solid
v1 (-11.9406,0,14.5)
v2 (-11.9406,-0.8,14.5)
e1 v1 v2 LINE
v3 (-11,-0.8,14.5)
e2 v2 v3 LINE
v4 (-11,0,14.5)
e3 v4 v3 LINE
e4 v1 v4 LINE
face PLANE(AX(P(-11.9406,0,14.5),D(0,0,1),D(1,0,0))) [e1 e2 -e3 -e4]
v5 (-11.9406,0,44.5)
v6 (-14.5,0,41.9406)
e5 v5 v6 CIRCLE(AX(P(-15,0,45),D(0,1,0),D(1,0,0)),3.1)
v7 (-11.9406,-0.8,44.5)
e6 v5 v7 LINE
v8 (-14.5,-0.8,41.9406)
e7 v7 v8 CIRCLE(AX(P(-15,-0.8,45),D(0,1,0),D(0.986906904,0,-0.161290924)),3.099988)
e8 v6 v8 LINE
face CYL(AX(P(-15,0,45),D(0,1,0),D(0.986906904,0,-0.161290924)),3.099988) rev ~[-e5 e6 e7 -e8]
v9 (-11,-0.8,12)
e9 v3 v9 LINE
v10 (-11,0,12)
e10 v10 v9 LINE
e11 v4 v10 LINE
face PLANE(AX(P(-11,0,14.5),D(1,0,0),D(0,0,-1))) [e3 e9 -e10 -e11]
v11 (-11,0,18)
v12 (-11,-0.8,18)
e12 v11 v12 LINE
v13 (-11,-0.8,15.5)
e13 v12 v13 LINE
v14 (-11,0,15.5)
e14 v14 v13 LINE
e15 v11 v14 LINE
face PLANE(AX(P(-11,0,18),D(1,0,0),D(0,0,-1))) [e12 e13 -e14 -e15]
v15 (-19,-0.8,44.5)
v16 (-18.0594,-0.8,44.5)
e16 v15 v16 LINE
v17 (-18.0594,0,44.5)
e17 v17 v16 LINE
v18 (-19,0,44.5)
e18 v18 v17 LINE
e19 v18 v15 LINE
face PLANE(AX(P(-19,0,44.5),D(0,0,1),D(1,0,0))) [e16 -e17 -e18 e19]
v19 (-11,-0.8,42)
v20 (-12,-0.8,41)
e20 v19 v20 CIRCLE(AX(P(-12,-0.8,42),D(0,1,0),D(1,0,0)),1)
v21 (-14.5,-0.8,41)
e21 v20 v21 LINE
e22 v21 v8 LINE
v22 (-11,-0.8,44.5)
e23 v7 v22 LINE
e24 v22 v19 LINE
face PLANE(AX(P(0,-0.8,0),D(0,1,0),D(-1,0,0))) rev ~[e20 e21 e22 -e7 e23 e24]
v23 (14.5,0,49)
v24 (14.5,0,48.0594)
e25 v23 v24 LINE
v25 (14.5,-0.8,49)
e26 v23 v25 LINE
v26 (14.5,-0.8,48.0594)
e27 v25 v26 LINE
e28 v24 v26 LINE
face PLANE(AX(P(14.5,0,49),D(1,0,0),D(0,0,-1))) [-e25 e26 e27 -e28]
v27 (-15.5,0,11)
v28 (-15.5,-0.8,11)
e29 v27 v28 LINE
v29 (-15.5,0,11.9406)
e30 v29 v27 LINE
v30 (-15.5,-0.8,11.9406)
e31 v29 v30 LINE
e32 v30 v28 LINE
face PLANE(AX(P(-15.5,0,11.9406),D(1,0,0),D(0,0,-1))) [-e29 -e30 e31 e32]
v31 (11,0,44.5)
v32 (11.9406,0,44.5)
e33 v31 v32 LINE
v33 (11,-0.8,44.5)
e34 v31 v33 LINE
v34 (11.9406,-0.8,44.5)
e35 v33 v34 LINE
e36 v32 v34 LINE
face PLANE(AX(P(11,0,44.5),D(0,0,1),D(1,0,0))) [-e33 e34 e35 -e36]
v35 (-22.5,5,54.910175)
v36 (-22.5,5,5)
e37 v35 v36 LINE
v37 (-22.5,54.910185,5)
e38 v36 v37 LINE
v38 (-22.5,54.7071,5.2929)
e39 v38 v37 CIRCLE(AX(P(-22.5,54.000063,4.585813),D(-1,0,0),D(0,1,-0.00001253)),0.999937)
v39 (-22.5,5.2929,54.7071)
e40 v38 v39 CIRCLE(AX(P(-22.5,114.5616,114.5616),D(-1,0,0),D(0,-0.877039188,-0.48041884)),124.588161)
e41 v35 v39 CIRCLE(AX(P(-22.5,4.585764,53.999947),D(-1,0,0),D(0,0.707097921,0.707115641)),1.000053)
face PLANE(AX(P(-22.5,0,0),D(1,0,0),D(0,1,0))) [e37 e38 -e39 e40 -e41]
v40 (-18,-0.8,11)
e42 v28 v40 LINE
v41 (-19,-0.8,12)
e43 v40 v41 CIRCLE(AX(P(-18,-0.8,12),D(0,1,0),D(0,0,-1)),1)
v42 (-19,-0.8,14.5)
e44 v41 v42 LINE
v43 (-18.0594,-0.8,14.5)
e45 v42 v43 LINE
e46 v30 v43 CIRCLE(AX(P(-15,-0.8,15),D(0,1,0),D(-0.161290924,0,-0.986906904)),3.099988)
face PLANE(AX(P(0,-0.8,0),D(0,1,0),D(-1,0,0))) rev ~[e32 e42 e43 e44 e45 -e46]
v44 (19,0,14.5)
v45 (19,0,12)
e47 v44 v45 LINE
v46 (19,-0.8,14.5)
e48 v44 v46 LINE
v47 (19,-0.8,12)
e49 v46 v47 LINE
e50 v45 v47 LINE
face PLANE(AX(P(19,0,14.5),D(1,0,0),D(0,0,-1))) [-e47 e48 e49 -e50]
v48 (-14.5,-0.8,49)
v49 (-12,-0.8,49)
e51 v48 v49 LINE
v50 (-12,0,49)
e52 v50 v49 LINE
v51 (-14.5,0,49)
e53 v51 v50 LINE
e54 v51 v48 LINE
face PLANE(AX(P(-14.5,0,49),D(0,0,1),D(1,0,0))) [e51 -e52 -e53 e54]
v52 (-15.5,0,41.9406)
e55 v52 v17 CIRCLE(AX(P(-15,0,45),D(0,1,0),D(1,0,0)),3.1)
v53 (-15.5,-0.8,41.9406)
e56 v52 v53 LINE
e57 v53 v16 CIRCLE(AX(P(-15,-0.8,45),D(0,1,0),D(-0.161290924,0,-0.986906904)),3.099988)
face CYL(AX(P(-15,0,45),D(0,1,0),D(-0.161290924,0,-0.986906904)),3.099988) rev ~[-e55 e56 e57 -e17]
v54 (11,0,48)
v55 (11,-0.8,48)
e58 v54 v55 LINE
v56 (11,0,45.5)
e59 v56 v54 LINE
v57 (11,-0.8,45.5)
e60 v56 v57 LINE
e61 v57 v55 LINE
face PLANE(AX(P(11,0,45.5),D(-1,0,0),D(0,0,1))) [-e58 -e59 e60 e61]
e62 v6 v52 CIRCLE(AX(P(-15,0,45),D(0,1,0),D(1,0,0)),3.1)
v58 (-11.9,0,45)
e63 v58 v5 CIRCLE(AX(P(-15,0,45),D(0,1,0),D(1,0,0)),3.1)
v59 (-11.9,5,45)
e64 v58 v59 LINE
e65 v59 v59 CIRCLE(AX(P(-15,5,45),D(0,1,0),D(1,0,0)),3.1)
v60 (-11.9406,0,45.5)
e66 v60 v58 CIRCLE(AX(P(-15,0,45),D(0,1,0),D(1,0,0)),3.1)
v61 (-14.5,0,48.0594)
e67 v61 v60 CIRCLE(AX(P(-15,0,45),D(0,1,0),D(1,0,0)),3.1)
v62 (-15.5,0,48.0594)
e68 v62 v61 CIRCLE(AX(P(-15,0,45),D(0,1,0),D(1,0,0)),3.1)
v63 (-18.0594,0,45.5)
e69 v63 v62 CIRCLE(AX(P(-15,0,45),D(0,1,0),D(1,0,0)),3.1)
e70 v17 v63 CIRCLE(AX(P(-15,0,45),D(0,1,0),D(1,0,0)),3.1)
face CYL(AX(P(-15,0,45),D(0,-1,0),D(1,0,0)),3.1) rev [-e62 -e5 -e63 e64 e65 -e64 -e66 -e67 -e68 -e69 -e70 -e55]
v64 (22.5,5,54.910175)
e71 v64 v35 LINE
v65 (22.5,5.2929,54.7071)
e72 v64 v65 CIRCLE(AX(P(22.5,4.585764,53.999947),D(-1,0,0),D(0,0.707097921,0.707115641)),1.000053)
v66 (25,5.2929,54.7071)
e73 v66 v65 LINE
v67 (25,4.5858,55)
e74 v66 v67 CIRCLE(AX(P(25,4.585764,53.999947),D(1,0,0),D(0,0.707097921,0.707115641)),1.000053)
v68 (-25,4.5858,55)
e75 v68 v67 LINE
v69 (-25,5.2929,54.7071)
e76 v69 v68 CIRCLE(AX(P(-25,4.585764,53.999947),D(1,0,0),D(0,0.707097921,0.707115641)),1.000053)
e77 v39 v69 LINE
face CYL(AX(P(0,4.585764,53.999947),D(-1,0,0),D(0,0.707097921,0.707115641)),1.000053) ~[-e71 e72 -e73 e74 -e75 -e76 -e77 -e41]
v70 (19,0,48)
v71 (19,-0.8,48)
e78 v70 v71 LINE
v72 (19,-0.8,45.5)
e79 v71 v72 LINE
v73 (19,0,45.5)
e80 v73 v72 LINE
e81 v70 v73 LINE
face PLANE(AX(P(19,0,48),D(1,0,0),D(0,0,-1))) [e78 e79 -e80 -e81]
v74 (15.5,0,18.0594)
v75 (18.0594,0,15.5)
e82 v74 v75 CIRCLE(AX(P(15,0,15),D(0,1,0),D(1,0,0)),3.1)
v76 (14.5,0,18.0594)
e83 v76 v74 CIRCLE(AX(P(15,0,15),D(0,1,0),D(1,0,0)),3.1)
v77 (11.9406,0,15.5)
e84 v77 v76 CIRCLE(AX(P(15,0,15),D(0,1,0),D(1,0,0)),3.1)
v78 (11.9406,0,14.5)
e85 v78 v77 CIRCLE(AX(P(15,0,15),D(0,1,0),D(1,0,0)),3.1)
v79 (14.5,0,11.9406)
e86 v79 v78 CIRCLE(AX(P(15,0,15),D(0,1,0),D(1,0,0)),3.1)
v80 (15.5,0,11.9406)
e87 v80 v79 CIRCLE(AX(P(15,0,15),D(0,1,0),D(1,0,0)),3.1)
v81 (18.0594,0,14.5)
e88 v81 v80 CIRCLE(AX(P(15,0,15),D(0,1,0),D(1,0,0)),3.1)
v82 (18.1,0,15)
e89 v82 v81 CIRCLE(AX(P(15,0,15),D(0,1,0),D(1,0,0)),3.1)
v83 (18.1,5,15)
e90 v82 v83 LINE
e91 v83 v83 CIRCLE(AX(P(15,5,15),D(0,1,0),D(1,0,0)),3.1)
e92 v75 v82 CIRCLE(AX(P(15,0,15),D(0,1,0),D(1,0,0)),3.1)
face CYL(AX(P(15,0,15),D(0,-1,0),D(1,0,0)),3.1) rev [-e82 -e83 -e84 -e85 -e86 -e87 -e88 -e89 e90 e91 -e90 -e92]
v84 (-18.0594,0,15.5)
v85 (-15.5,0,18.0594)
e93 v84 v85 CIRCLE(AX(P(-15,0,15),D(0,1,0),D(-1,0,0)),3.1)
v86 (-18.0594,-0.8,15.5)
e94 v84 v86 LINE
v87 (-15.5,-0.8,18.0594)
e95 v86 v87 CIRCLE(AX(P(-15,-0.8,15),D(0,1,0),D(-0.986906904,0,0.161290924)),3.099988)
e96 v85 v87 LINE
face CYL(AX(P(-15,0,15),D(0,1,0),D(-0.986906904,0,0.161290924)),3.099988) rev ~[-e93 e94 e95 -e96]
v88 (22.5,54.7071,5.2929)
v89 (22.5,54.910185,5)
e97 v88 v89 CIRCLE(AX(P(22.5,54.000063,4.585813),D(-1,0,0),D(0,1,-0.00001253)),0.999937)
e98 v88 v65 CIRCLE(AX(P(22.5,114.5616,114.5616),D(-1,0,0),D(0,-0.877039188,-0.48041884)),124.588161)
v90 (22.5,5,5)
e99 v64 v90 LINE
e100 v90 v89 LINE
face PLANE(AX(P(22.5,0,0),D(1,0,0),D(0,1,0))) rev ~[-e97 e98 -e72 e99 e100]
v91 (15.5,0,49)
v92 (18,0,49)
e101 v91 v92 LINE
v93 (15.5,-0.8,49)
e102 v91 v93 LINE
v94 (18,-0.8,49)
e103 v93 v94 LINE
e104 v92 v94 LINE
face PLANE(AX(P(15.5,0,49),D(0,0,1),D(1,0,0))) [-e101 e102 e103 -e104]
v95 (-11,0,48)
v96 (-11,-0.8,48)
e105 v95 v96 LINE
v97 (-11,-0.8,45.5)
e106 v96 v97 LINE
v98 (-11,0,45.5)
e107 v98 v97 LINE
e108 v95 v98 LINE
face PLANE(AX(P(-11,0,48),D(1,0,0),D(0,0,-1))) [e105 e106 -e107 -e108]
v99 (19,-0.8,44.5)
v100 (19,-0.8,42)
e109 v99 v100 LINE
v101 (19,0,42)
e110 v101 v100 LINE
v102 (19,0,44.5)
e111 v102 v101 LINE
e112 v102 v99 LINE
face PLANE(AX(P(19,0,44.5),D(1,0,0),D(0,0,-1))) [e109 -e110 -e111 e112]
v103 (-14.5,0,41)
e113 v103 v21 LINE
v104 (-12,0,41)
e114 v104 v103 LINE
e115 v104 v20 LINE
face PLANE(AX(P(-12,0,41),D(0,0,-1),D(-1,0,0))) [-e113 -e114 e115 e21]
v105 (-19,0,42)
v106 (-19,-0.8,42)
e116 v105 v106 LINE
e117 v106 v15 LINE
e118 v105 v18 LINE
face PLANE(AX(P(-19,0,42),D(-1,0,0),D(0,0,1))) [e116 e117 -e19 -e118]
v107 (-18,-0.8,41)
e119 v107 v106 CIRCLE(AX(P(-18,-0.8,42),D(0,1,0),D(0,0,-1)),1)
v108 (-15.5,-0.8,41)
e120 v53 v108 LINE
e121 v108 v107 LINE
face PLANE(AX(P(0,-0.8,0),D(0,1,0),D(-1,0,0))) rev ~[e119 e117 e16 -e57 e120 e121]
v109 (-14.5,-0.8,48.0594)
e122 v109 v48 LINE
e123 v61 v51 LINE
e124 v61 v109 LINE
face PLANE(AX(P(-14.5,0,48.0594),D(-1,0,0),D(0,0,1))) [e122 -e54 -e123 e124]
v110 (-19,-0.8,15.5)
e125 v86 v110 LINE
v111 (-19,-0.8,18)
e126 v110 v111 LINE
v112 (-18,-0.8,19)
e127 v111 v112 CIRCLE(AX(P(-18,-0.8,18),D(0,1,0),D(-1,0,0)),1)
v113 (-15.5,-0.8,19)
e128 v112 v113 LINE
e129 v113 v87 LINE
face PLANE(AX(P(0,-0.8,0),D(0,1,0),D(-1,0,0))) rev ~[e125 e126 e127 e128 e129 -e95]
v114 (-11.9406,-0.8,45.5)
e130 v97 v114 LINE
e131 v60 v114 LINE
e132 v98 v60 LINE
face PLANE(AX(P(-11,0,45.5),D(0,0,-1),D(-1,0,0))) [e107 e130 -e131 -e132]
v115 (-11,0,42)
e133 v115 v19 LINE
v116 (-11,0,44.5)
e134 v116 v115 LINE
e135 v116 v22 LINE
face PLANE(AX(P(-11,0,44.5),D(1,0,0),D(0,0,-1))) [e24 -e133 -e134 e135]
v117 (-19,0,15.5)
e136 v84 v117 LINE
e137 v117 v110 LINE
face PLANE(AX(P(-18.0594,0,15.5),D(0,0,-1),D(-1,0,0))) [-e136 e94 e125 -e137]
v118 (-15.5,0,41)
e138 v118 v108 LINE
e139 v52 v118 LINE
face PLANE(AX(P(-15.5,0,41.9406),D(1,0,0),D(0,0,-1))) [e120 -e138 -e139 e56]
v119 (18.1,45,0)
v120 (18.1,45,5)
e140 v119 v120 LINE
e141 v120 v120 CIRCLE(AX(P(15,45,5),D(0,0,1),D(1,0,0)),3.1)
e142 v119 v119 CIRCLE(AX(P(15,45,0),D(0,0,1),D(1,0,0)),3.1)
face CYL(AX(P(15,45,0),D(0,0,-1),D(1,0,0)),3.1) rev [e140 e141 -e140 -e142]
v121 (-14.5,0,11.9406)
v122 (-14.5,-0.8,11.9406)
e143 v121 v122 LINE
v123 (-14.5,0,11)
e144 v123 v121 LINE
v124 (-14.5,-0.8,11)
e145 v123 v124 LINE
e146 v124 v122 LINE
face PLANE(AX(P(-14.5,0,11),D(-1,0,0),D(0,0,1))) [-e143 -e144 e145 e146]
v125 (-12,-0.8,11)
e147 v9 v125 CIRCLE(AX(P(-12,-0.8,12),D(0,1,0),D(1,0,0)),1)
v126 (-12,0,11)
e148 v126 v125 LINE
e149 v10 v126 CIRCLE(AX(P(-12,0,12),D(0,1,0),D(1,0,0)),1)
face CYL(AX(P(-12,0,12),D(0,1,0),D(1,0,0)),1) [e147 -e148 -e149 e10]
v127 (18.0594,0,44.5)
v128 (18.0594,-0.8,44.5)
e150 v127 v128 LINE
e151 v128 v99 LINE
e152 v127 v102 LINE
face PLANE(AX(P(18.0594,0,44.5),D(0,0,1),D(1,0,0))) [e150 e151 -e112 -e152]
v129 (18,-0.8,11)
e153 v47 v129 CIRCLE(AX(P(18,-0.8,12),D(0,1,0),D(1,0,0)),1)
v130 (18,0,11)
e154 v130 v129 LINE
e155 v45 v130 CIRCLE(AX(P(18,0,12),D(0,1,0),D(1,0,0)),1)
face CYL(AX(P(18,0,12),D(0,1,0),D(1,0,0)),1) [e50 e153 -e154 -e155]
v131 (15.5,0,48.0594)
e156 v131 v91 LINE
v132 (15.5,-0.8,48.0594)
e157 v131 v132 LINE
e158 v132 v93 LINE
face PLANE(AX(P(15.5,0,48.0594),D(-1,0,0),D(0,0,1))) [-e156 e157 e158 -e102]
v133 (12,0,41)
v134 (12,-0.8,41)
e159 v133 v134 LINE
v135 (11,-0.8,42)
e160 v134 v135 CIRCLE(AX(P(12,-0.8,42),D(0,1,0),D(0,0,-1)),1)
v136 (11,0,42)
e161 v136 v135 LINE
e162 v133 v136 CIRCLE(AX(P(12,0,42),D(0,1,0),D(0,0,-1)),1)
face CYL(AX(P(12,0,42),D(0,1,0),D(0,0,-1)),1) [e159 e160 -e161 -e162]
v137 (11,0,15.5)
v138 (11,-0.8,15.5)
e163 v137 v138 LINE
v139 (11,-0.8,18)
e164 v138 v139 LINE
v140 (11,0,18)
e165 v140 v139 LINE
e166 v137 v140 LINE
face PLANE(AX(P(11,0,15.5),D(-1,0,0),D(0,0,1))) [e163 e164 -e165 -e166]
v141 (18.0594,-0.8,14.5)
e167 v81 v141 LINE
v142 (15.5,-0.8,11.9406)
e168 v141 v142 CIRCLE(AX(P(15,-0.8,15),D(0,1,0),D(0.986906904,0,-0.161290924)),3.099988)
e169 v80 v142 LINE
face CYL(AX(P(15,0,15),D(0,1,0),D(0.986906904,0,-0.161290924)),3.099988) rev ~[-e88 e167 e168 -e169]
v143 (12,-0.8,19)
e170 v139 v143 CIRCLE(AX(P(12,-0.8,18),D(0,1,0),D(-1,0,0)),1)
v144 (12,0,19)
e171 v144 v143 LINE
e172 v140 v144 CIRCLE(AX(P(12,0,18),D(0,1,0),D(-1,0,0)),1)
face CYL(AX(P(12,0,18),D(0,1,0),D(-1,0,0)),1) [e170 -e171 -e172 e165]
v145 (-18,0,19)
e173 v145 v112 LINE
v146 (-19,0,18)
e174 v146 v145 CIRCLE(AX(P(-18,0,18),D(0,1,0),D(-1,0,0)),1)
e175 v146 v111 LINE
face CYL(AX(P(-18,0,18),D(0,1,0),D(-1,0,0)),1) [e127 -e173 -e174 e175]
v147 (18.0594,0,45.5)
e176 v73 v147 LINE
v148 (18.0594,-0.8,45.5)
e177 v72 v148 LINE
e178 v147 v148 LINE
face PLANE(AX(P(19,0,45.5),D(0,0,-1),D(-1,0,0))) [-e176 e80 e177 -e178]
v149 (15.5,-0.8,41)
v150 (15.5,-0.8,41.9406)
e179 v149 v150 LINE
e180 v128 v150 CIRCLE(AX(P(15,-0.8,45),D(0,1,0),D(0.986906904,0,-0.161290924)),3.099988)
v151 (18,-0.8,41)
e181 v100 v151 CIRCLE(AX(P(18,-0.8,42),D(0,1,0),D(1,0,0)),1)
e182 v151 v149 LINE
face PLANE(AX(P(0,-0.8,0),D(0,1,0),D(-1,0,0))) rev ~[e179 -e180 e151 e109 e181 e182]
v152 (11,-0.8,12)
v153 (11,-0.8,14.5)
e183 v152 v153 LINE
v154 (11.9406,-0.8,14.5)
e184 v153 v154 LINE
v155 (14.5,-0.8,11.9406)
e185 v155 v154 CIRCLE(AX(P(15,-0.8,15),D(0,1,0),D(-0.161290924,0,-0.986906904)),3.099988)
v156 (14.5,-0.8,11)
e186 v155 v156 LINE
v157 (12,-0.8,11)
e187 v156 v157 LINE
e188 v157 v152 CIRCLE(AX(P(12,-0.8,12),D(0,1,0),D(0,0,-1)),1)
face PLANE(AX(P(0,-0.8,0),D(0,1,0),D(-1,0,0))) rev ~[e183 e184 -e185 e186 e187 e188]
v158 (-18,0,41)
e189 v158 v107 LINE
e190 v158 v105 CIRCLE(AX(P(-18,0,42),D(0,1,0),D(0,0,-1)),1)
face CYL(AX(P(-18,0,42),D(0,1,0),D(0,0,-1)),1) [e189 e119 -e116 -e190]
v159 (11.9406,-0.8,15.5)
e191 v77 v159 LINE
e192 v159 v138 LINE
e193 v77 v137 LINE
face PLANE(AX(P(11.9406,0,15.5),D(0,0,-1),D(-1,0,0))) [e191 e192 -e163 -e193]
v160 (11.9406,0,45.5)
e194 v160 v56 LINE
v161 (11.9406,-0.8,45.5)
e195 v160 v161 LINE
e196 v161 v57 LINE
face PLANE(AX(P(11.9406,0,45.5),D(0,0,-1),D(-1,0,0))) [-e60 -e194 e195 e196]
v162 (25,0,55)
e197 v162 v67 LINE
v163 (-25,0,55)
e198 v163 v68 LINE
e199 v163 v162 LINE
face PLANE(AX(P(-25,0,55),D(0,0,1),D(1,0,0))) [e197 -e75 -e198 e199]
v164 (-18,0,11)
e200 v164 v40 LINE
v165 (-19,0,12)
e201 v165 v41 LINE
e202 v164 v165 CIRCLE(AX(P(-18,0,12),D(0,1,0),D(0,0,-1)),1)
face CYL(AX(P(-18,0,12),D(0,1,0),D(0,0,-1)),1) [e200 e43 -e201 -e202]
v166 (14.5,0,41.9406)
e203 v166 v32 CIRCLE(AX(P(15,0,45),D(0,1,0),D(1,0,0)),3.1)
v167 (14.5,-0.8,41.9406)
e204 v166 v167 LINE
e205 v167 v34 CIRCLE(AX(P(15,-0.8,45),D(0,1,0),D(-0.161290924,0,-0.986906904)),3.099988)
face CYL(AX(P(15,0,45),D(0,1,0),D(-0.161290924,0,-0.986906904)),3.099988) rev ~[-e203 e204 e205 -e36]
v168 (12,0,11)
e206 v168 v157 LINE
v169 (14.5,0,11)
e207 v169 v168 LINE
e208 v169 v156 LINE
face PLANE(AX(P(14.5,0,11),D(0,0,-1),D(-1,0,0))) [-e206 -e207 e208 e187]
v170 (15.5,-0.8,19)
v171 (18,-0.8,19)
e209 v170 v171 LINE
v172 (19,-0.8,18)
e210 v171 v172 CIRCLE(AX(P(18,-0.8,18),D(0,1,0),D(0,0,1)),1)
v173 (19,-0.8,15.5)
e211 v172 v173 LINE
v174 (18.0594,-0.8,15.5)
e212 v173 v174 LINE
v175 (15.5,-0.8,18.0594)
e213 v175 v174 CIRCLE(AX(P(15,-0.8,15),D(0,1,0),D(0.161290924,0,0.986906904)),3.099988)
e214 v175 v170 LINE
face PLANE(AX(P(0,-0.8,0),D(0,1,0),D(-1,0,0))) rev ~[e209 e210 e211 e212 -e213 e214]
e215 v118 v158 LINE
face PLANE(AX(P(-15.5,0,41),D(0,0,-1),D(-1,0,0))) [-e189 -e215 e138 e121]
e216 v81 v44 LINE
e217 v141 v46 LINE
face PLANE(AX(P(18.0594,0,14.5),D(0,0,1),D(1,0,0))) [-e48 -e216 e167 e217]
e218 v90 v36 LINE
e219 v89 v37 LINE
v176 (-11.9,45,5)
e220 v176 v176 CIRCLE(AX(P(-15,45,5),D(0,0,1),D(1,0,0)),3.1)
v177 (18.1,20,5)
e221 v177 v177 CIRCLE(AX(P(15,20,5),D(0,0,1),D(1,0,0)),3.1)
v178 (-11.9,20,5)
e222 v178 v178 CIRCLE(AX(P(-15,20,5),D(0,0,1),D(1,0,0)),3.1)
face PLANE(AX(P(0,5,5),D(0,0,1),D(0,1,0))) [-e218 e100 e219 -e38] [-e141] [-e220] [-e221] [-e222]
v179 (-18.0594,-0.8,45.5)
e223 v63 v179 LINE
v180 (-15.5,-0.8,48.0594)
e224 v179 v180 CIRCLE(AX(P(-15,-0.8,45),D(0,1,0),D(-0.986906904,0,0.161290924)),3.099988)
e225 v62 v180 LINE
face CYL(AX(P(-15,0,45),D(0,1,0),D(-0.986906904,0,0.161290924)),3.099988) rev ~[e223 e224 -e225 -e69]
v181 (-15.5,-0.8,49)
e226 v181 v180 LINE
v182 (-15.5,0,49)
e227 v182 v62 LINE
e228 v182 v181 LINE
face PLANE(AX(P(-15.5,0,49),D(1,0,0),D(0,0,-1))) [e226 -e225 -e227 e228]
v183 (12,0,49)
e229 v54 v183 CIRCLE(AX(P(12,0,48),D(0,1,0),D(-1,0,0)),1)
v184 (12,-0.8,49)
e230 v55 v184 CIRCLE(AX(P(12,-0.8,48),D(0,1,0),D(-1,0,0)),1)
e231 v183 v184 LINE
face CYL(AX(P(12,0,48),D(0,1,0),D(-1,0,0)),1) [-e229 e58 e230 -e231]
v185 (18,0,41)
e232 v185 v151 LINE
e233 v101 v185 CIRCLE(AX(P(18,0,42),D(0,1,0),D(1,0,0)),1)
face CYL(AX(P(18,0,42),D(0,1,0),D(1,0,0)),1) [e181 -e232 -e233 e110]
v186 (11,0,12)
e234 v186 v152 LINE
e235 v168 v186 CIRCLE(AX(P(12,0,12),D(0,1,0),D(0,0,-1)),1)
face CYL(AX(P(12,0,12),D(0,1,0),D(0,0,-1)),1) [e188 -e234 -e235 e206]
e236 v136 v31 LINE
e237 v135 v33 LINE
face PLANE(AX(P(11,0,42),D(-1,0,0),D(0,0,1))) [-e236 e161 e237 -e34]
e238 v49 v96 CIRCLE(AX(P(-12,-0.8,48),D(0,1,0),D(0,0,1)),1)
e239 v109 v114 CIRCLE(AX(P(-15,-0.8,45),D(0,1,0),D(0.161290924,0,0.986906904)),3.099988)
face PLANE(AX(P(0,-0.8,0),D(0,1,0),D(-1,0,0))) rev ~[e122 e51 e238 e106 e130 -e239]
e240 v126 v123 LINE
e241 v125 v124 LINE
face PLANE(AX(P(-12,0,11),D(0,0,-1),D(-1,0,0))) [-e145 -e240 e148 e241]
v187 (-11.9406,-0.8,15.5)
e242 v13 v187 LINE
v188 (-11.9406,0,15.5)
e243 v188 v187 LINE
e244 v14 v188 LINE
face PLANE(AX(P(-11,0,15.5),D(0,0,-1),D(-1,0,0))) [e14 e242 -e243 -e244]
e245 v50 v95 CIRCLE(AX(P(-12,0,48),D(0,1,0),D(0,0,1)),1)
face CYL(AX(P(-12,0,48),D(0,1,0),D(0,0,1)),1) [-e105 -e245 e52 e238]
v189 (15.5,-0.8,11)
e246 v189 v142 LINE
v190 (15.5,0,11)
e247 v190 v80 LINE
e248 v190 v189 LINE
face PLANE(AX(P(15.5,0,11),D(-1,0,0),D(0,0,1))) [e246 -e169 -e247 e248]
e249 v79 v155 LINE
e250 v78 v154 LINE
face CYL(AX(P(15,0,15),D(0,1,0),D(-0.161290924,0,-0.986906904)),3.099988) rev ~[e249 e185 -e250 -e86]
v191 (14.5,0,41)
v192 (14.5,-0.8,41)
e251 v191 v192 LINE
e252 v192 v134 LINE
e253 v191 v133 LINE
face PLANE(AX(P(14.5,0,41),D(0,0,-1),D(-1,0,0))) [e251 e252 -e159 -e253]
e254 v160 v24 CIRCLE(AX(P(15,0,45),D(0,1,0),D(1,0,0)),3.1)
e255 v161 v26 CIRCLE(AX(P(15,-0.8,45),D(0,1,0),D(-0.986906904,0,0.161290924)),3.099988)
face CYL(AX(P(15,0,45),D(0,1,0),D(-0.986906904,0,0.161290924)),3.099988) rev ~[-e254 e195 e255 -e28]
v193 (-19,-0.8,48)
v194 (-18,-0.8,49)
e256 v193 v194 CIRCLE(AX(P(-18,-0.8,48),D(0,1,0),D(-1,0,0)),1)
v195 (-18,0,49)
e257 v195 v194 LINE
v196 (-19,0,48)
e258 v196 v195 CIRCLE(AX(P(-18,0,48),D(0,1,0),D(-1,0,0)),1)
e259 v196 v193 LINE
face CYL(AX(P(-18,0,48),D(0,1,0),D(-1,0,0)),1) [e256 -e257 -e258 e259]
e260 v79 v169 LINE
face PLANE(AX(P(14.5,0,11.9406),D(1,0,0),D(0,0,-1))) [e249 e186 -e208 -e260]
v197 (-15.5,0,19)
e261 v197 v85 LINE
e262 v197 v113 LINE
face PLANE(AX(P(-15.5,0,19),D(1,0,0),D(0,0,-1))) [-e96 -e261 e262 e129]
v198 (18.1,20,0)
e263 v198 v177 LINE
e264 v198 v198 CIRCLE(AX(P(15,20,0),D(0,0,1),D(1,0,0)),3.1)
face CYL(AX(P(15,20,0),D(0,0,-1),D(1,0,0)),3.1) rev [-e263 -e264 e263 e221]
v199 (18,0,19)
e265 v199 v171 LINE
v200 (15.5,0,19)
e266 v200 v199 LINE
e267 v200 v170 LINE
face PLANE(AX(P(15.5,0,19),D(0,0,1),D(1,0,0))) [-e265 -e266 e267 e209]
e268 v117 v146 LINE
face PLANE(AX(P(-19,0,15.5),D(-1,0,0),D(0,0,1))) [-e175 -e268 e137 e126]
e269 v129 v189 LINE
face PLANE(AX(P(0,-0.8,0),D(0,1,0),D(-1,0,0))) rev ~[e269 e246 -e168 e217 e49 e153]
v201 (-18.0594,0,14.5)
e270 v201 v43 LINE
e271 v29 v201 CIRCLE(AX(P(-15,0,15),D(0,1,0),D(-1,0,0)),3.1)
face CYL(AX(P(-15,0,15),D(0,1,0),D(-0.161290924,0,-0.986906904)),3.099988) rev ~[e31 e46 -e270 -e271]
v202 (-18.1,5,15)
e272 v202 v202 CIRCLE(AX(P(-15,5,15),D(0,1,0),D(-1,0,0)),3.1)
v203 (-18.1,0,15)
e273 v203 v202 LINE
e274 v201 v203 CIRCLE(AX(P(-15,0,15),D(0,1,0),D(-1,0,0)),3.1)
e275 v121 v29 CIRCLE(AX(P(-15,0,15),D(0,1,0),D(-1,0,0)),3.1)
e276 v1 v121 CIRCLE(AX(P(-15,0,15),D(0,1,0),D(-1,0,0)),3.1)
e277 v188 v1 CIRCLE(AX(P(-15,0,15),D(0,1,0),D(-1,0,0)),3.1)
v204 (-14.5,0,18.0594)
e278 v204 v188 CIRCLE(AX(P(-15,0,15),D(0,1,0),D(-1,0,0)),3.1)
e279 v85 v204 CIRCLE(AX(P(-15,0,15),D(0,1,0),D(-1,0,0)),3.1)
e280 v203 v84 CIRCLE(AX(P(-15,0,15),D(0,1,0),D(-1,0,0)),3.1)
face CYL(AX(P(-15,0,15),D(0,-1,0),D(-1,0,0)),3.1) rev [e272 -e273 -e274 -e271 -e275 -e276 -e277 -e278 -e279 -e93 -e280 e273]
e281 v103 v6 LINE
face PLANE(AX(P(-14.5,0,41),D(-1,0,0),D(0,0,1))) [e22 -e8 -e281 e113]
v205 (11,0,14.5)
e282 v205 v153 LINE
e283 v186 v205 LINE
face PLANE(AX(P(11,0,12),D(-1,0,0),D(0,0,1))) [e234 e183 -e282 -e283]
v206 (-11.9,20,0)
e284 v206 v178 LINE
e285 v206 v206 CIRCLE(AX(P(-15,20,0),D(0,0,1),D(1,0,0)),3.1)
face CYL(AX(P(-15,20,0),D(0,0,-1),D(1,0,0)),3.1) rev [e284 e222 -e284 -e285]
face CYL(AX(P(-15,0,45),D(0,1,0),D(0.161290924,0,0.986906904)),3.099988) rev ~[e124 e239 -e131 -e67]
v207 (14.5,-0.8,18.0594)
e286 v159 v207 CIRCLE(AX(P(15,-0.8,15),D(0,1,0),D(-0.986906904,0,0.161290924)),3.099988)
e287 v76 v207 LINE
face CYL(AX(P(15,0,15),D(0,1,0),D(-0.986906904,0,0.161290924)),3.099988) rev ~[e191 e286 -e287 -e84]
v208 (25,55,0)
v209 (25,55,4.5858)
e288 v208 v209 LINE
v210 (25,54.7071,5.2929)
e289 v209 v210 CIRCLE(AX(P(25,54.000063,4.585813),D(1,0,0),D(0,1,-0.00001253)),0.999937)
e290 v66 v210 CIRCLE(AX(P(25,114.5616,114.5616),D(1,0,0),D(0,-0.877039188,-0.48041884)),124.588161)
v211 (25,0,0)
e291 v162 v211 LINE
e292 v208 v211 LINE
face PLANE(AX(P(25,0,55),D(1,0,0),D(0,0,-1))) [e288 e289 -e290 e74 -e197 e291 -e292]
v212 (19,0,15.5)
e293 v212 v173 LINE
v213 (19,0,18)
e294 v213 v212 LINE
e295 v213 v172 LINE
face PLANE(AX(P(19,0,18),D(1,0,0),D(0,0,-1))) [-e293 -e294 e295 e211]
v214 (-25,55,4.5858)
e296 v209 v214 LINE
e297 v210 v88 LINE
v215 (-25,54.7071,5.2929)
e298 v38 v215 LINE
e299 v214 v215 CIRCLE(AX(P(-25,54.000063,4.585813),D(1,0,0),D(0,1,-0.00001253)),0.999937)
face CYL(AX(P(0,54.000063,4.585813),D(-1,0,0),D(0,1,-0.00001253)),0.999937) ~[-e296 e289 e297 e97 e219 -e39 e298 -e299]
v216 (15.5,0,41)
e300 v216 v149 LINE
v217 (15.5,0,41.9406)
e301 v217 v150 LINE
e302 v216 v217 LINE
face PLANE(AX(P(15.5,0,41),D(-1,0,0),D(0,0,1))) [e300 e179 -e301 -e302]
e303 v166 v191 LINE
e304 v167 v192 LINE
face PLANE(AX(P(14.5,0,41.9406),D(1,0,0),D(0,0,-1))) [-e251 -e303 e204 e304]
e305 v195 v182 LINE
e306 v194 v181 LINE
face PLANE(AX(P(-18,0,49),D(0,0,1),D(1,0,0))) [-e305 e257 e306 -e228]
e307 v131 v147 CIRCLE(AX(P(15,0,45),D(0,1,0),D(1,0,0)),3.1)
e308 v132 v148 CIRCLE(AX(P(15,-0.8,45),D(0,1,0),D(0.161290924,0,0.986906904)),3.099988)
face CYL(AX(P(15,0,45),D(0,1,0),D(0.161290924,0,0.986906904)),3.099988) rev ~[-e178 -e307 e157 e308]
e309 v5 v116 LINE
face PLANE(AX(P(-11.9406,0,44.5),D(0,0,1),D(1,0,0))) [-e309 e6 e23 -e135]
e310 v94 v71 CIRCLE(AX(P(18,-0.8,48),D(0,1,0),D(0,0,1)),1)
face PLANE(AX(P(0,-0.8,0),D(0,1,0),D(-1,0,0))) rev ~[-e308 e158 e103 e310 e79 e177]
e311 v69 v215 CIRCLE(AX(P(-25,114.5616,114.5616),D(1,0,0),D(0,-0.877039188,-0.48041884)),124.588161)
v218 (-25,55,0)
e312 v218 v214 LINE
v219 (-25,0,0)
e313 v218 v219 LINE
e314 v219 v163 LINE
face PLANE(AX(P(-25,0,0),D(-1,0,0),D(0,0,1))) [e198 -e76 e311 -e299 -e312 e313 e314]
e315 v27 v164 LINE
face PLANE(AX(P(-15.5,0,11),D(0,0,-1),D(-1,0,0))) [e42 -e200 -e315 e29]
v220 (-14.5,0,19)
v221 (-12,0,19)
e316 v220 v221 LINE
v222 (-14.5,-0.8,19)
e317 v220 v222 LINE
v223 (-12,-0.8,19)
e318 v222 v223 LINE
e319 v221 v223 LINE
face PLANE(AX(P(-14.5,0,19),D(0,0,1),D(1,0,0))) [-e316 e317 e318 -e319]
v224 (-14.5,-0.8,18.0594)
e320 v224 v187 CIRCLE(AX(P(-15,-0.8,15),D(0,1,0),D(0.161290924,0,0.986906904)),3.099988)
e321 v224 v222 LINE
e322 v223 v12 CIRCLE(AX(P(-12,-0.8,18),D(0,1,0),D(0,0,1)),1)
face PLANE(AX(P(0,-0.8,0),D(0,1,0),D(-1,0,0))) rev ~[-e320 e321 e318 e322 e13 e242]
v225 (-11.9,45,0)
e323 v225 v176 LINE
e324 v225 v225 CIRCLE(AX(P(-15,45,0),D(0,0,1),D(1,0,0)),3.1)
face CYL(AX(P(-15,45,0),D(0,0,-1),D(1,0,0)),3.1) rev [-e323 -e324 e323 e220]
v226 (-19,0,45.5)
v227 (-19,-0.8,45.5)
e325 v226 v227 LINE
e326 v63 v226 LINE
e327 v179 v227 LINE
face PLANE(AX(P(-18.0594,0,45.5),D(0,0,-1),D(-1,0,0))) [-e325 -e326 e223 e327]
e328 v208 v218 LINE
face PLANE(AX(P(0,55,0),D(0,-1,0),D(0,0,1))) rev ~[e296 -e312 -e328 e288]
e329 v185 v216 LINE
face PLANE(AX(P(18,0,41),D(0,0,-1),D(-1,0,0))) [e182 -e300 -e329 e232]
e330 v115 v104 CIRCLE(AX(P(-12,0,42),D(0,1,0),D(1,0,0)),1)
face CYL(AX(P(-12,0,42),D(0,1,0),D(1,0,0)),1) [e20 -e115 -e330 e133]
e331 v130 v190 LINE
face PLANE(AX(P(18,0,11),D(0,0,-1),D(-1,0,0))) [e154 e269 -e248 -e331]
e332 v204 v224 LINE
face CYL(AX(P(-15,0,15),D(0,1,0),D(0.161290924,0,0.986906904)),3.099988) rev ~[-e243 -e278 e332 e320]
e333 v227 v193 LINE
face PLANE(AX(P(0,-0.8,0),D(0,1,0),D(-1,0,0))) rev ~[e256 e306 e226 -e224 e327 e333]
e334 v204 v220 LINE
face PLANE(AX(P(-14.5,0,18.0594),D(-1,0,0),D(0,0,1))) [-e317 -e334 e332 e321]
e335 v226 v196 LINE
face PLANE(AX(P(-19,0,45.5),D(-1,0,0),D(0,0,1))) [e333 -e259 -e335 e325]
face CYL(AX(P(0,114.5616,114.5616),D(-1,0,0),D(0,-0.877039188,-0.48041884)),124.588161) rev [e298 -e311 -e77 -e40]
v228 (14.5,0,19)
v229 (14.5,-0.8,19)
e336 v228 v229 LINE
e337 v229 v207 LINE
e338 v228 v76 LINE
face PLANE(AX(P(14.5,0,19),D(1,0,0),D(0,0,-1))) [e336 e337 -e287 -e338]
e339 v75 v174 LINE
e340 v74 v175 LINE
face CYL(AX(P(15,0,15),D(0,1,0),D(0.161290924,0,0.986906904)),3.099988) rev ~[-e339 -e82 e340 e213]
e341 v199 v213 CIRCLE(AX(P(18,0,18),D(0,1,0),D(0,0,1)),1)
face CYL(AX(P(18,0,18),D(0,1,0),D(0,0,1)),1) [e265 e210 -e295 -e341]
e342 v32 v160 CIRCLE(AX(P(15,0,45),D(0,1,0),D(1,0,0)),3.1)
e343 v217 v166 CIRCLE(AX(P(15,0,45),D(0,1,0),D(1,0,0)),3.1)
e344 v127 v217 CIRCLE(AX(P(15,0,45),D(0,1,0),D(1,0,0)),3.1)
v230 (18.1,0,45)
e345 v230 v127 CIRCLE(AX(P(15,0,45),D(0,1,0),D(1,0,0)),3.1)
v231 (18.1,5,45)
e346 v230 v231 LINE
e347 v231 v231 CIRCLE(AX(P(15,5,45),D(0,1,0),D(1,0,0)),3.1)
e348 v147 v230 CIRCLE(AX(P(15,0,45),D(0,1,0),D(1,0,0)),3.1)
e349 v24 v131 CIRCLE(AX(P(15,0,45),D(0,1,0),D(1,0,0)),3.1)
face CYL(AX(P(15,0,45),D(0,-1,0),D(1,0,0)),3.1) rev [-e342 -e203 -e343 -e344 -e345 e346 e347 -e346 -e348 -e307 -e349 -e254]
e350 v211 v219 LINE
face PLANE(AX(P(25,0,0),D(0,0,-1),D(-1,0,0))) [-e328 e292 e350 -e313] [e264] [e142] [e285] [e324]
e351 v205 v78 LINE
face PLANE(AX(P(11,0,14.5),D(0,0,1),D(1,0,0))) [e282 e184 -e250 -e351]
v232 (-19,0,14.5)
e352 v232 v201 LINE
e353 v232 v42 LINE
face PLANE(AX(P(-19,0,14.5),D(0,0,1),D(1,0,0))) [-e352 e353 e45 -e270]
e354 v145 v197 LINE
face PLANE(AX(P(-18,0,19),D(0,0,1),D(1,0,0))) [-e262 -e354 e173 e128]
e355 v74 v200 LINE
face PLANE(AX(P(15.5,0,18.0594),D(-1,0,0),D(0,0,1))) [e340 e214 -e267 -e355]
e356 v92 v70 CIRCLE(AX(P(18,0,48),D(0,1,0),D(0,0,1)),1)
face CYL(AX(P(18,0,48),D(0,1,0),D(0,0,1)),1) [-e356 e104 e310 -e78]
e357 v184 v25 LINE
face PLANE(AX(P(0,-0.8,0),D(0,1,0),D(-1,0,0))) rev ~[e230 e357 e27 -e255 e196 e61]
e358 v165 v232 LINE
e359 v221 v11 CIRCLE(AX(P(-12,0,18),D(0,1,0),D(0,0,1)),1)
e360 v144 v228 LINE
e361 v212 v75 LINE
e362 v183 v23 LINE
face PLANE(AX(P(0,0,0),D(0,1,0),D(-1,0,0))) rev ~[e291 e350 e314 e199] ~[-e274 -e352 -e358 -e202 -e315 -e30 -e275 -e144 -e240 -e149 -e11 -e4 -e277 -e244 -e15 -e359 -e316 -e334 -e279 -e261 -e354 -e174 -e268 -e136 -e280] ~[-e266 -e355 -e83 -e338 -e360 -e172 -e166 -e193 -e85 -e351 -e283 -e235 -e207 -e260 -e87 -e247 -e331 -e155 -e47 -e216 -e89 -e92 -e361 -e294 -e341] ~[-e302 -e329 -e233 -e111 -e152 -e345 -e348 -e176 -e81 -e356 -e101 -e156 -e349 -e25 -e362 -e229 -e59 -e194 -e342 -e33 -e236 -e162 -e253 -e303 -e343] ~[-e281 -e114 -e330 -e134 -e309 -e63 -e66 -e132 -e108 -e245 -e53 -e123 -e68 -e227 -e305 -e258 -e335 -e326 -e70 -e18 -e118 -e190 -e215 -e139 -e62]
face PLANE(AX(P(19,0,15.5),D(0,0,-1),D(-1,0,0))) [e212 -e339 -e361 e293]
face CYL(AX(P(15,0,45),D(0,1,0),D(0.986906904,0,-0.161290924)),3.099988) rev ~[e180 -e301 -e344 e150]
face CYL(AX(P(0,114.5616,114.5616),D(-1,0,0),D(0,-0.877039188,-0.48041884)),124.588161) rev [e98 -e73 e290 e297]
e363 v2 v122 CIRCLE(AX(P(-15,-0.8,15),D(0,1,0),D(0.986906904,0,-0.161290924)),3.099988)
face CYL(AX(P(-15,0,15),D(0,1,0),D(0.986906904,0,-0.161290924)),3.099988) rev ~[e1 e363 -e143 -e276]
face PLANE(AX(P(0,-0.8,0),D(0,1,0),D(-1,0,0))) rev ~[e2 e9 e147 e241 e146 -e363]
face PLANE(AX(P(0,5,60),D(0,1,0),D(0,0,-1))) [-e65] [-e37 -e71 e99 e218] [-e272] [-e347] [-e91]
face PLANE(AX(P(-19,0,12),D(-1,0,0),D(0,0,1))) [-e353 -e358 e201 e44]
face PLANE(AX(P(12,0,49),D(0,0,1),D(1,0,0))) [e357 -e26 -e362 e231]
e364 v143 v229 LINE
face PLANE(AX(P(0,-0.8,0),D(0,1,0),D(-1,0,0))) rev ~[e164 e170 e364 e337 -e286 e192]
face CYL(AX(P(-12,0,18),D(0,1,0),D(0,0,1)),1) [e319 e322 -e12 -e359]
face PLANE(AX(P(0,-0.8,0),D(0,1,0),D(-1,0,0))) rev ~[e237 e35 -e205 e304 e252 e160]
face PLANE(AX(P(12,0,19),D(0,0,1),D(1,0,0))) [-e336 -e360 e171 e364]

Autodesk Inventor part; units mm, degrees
sketch "Sketch_15" plane through (0, 0, 0) normal (1, 0, 0) x (0, 1, 0)
  line L0 (4.5858, 55) -> (0, 55)
  line L1 (0, 55) -> (0, 0)
  line L2 (0, 0) -> (55, 0)
  line L3 (55, 0) -> (55, 4.5858)
  arc A0 (55, 4.5858) -> (54.7071, 5.2929) centre (54, 4.5858) ccw
  line L4 (54.7071, 5.2929) -> (5.2929, 54.7071)
  arc A1 (5.2929, 54.7071) -> (4.5858, 55) centre (4.5858, 54) ccw
extrude "Extrusion1" add sketch "Sketch_15" along normal mid plane 50
sketch "Sketch_16" plane through (0, 0, 0) normal (1, 0, 0) x (0, 1, 0)
  line L0 (60, 60) -> (5, 60)
  line L1 (5, 60) -> (5, 5)
  line L2 (5, 5) -> (60, 5)
  line L3 (60, 5) -> (60, 60)
extrude "Extrusion2" cut sketch "Sketch_16" along normal mid plane 45
sketch "Sketch_28" plane through (0, 0, 0) normal (1, 0, 0) x (0, 1, 0)
  arc A0 (5.2929, 54.7071) -> (54.7071, 5.2929) centre (114.5616, 114.5616) ccw
  line L0 (54.7071, 5.2929) -> (5.2929, 54.7071)
extrude "Extrusion3" cut sketch "Sketch_28" along normal mid plane 50
sketch "Sketch_22_ALT_Drilling_1" plane through (0, 0, 0) normal (0, 1, 0) x (-1, 0, 0)
  circle A0 centre (15, 15) radius 3.1
extrude "Extrusion4" cut sketch "Sketch_22_ALT_Drilling_1" along normal blind 5
sketch "Pattern_3_SKETCH_1" plane through (30, 0, 0) normal (0, 1, 0) x (1, 0, 0)
  circle A0 centre (-15, -15) radius 3.1
sketch "Pattern_3_SKETCH_2" plane through (0, 0, 30) normal (0, 1, 0) x (1, 0, 0)
  circle A0 centre (-15, -15) radius 3.1
sketch "Pattern_3_SKETCH_3" plane through (30, 0, 30) normal (0, 1, 0) x (1, 0, 0)
  circle A0 centre (-15, -15) radius 3.1
extrude "Extrusion5" cut sketch "Pattern_3_SKETCH_1" along normal blind 5
extrude "Extrusion6" cut sketch "Pattern_3_SKETCH_2" along normal blind 5
extrude "Extrusion7" cut sketch "Pattern_3_SKETCH_3" along normal blind 5
sketch "Sketch_24_ALT_Drilling_2" plane through (0, 0, 0) normal (0, 0, 1) x (1, 0, 0)
  circle A0 centre (-15, 20) radius 3.1
extrude "Extrusion8" cut sketch "Sketch_24_ALT_Drilling_2" along normal blind 5
sketch "Pattern_4_SKETCH_1" plane through (30, 0, 0) normal (0, 0, 1) x (1, 0, 0)
  circle A0 centre (-15, 20) radius 3.1
sketch "Pattern_4_SKETCH_2" plane through (0, 25, 0) normal (0, 0, 1) x (1, 0, 0)
  circle A0 centre (-15, 20) radius 3.1
sketch "Pattern_4_SKETCH_3" plane through (30, 25, 0) normal (0, 0, 1) x (1, 0, 0)
  circle A0 centre (-15, 20) radius 3.1
extrude "Extrusion9" cut sketch "Pattern_4_SKETCH_1" along normal blind 5
extrude "Extrusion10" cut sketch "Pattern_4_SKETCH_2" along normal blind 5
extrude "Extrusion11" cut sketch "Pattern_4_SKETCH_3" along normal blind 5
sketch "Sketch_1" plane through (0, 0, 0) normal (0, 1, 0) x (-1, 0, 0)
  line L0 (25, 55) -> (-25, 55)
  line L1 (-25, 55) -> (-25, 0)
  line L2 (-25, 0) -> (25, 0)
  line L3 (25, 0) -> (25, 55)
extrude "Extrusion12" add sketch "Sketch_1" against normal blind 0.8
sketch "Sketch_14" plane through (0, 0, 0) normal (0, 1, 0) x (-1, 0, 0)
  line L0 (25, 55) -> (-25, 55)
  line L1 (-25, 55) -> (-25, 0)
  line L2 (-25, 0) -> (25, 0)
  line L3 (25, 0) -> (25, 55)
  line L4 (-15.5, 18.0594) -> (-15.5, 19)
  line L5 (-15.5, 19) -> (-18, 19)
  arc A0 (-18, 19) -> (-19, 18) centre (-18, 18) ccw
  line L6 (-19, 18) -> (-19, 15.5)
  line L7 (-19, 15.5) -> (-18.0594, 15.5)
  arc A1 (-15.5, 18.0594) -> (-18.0594, 15.5) centre (-15, 15) ccw
  line L8 (-15.5, 48.0594) -> (-15.5, 49)
  line L9 (-15.5, 49) -> (-18, 49)
  arc A2 (-18, 49) -> (-19, 48) centre (-18, 48) ccw
  line L10 (-19, 48) -> (-19, 45.5)
  line L11 (-19, 45.5) -> (-18.0594, 45.5)
  arc A3 (-15.5, 48.0594) -> (-18.0594, 45.5) centre (-15, 45) ccw
  arc A4 (-18.0594, 14.5) -> (-15.5, 11.9406) centre (-15, 15) ccw
  line L12 (-18.0594, 14.5) -> (-19, 14.5)
  line L13 (-19, 14.5) -> (-19, 12)
  arc A5 (-19, 12) -> (-18, 11) centre (-18, 12) ccw
  line L14 (-18, 11) -> (-15.5, 11)
  line L15 (-15.5, 11) -> (-15.5, 11.9406)
  arc A6 (-18.0594, 44.5) -> (-15.5, 41.9406) centre (-15, 45) ccw
  line L16 (-18.0594, 44.5) -> (-19, 44.5)
  line L17 (-19, 44.5) -> (-19, 42)
  arc A7 (-19, 42) -> (-18, 41) centre (-18, 42) ccw
  line L18 (-18, 41) -> (-15.5, 41)
  line L19 (-15.5, 41) -> (-15.5, 41.9406)
  line L20 (-11, 12) -> (-11, 14.5)
  line L21 (-11, 14.5) -> (-11.9406, 14.5)
  arc A8 (-14.5, 11.9406) -> (-11.9406, 14.5) centre (-15, 15) ccw
  line L22 (-14.5, 11.9406) -> (-14.5, 11)
  line L23 (-14.5, 11) -> (-12, 11)
  arc A9 (-12, 11) -> (-11, 12) centre (-12, 12) ccw
  line L24 (-11, 15.5) -> (-11, 18)
  arc A10 (-11, 18) -> (-12, 19) centre (-12, 18) ccw
  line L25 (-12, 19) -> (-14.5, 19)
  line L26 (-14.5, 19) -> (-14.5, 18.0594)
  arc A11 (-11.9406, 15.5) -> (-14.5, 18.0594) centre (-15, 15) ccw
  line L27 (-11.9406, 15.5) -> (-11, 15.5)
  line L28 (-11, 42) -> (-11, 44.5)
  line L29 (-11, 44.5) -> (-11.9406, 44.5)
  arc A12 (-14.5, 41.9406) -> (-11.9406, 44.5) centre (-15, 45) ccw
  line L30 (-14.5, 41.9406) -> (-14.5, 41)
  line L31 (-14.5, 41) -> (-12, 41)
  arc A13 (-12, 41) -> (-11, 42) centre (-12, 42) ccw
  line L32 (-11, 45.5) -> (-11, 48)
  arc A14 (-11, 48) -> (-12, 49) centre (-12, 48) ccw
  line L33 (-12, 49) -> (-14.5, 49)
  line L34 (-14.5, 49) -> (-14.5, 48.0594)
  arc A15 (-11.9406, 45.5) -> (-14.5, 48.0594) centre (-15, 45) ccw
  line L35 (-11.9406, 45.5) -> (-11, 45.5)
  line L36 (14.5, 18.0594) -> (14.5, 19)
  line L37 (14.5, 19) -> (12, 19)
  arc A16 (12, 19) -> (11, 18) centre (12, 18) ccw
  line L38 (11, 18) -> (11, 15.5)
  line L39 (11, 15.5) -> (11.9406, 15.5)
  arc A17 (14.5, 18.0594) -> (11.9406, 15.5) centre (15, 15) ccw
  line L40 (14.5, 48.0594) -> (14.5, 49)
  line L41 (14.5, 49) -> (12, 49)
  arc A18 (12, 49) -> (11, 48) centre (12, 48) ccw
  line L42 (11, 48) -> (11, 45.5)
  line L43 (11, 45.5) -> (11.9406, 45.5)
  arc A19 (14.5, 48.0594) -> (11.9406, 45.5) centre (15, 45) ccw
  arc A20 (11.9406, 14.5) -> (14.5, 11.9406) centre (15, 15) ccw
  line L44 (11.9406, 14.5) -> (11, 14.5)
  line L45 (11, 14.5) -> (11, 12)
  arc A21 (11, 12) -> (12, 11) centre (12, 12) ccw
  line L46 (12, 11) -> (14.5, 11)
  line L47 (14.5, 11) -> (14.5, 11.9406)
  arc A22 (11.9406, 44.5) -> (14.5, 41.9406) centre (15, 45) ccw
  line L48 (11.9406, 44.5) -> (11, 44.5)
  line L49 (11, 44.5) -> (11, 42)
  arc A23 (11, 42) -> (12, 41) centre (12, 42) ccw
  line L50 (12, 41) -> (14.5, 41)
  line L51 (14.5, 41) -> (14.5, 41.9406)
  line L52 (19, 12) -> (19, 14.5)
  line L53 (19, 14.5) -> (18.0594, 14.5)
  arc A24 (15.5, 11.9406) -> (18.0594, 14.5) centre (15, 15) ccw
  line L54 (15.5, 11.9406) -> (15.5, 11)
  line L55 (15.5, 11) -> (18, 11)
  arc A25 (18, 11) -> (19, 12) centre (18, 12) ccw
  line L56 (19, 15.5) -> (19, 18)
  arc A26 (19, 18) -> (18, 19) centre (18, 18) ccw
  line L57 (18, 19) -> (15.5, 19)
  line L58 (15.5, 19) -> (15.5, 18.0594)
  arc A27 (18.0594, 15.5) -> (15.5, 18.0594) centre (15, 15) ccw
  line L59 (18.0594, 15.5) -> (19, 15.5)
  line L60 (19, 42) -> (19, 44.5)
  line L61 (19, 44.5) -> (18.0594, 44.5)
  arc A28 (15.5, 41.9406) -> (18.0594, 44.5) centre (15, 45) ccw
  line L62 (15.5, 41.9406) -> (15.5, 41)
  line L63 (15.5, 41) -> (18, 41)
  arc A29 (18, 41) -> (19, 42) centre (18, 42) ccw
  line L64 (19, 45.5) -> (19, 48)
  arc A30 (19, 48) -> (18, 49) centre (18, 48) ccw
  line L65 (18, 49) -> (15.5, 49)
  line L66 (15.5, 49) -> (15.5, 48.0594)
  arc A31 (18.0594, 45.5) -> (15.5, 48.0594) centre (15, 45) ccw
  line L67 (18.0594, 45.5) -> (19, 45.5)
extrude "Extrusion13" cut sketch "Sketch_14" against normal blind 0.8
ref_plane "SD6_50_1_XY" through (-10, 15, 5) normal (0, 0, 1) x (1, 0, 0)
ref_plane "SD6_50_1_YZ" through (-10, 15, 5) normal (1, 0, 0) x (0, 1, 0)
ref_plane "SD6_50_1_ZX" through (-10, 15, 5) normal (0, 1, 0) x (0, 0, 1)
ref_plane "SD6_50_2_XY" through (10, 15, 5) normal (0, 0, 1) x (1, 0, 0)
ref_plane "SD6_50_2_YZ" through (10, 15, 5) normal (1, 0, 0) x (0, 1, 0)
ref_plane "SD6_50_2_ZX" through (10, 15, 5) normal (0, 1, 0) x (0, 0, 1)
ref_plane "SD6_50_3_XY" through (-10, 5, 18) normal (0, 1, 0) x (1, 0, 0)
ref_plane "SD6_50_3_YZ" through (-10, 5, 18) normal (1, 0, 0) x (0, 0, -1)
ref_plane "SD6_50_3_ZX" through (-10, 5, 18) normal (0, 0, -1) x (0, 1, 0)
ref_plane "SD6_50_4_XY" through (10, 5, 18) normal (0, 1, 0) x (1, 0, 0)
ref_plane "SD6_50_4_YZ" through (10, 5, 18) normal (1, 0, 0) x (0, 0, -1)
ref_plane "SD6_50_4_ZX" through (10, 5, 18) normal (0, 0, -1) x (0, 1, 0)
ref_plane "a10_to_bolt_XY" through (15, 15, 5) normal (0, 0, 1) x (1, 0, 0)
ref_plane "a10_to_bolt_YZ" through (15, 15, 5) normal (1, 0, 0) x (0, 1, 0)
ref_plane "a10_to_bolt_ZX" through (15, 15, 5) normal (0, 1, 0) x (0, 0, 1)
ref_plane "a11_to_bolt_XY" through (-15, 5, 18) normal (0, 1, 0) x (1, 0, 0)
ref_plane "a11_to_bolt_YZ" through (-15, 5, 18) normal (1, 0, 0) x (0, 0, -1)
ref_plane "a11_to_bolt_ZX" through (-15, 5, 18) normal (0, 0, -1) x (0, 1, 0)
ref_plane "a12_to_bolt_XY" through (15, 5, 18) normal (0, 1, 0) x (1, 0, 0)
ref_plane "a12_to_bolt_YZ" through (15, 5, 18) normal (1, 0, 0) x (0, 0, -1)
ref_plane "a12_to_bolt_ZX" through (15, 5, 18) normal (0, 0, -1) x (0, 1, 0)
ref_plane "a13_to_bolt_XY" through (0, 5, 35) normal (0, 1, 0) x (1, 0, 0)
ref_plane "a13_to_bolt_YZ" through (0, 5, 35) normal (1, 0, 0) x (0, 0, -1)
ref_plane "a13_to_bolt_ZX" through (0, 5, 35) normal (0, 0, -1) x (0, 1, 0)
ref_plane "a14_to_bolt_XY" through (0, 40, 5) normal (0, 0, 1) x (1, 0, 0)
ref_plane "a14_to_bolt_YZ" through (0, 40, 5) normal (1, 0, 0) x (0, 1, 0)
ref_plane "a14_to_bolt_ZX" through (0, 40, 5) normal (0, 1, 0) x (0, 0, 1)
ref_plane "a1_to_bolt_XY" through (-15, 20, 5) normal (0, 0, 1) x (1, 0, 0)
ref_plane "a1_to_bolt_YZ" through (-15, 20, 5) normal (1, 0, 0) x (0, 1, 0)
ref_plane "a1_to_bolt_ZX" through (-15, 20, 5) normal (0, 1, 0) x (0, 0, 1)
ref_plane "a2_to_bolt_XY" through (-15, 5, 15) normal (0, 1, 0) x (1, 0, 0)
ref_plane "a2_to_bolt_YZ" through (-15, 5, 15) normal (1, 0, 0) x (0, 0, -1)
ref_plane "a2_to_bolt_ZX" through (-15, 5, 15) normal (0, 0, -1) x (0, 1, 0)
ref_plane "a3_to_bolt_XY" through (1, 25, 5) normal (0, 0, 1) x (1, 0, 0)
ref_plane "a3_to_bolt_YZ" through (1, 25, 5) normal (1, 0, 0) x (0, 1, 0)
ref_plane "a3_to_bolt_ZX" through (1, 25, 5) normal (0, 1, 0) x (0, 0, 1)
ref_plane "a4_to_bolt_XY" through (1, 5, 15) normal (0, 1, 0) x (1, 0, 0)
ref_plane "a4_to_bolt_YZ" through (1, 5, 15) normal (1, 0, 0) x (0, 0, -1)
ref_plane "a4_to_bolt_ZX" through (1, 5, 15) normal (0, 0, -1) x (0, 1, 0)
ref_plane "a55_to_bolt_XY" through (0, 28, 5) normal (0, 0, 1) x (1, 0, 0)
ref_plane "a55_to_bolt_YZ" through (0, 28, 5) normal (1, 0, 0) x (0, 1, 0)
ref_plane "a55_to_bolt_ZX" through (0, 28, 5) normal (0, 1, 0) x (0, 0, 1)
ref_plane "a5_to_bolt_XY" through (0, 25, 5) normal (0, 0, 1) x (1, 0, 0)
ref_plane "a5_to_bolt_YZ" through (0, 25, 5) normal (1, 0, 0) x (0, 1, 0)
ref_plane "a5_to_bolt_ZX" through (0, 25, 5) normal (0, 1, 0) x (0, 0, 1)
ref_plane "a6_to_bolt_XY" through (0, 5, 15) normal (0, 1, 0) x (1, 0, 0)
ref_plane "a6_to_bolt_YZ" through (0, 5, 15) normal (1, 0, 0) x (0, 0, -1)
ref_plane "a6_to_bolt_ZX" through (0, 5, 15) normal (0, 0, -1) x (0, 1, 0)
ref_plane "a7_to_bolt_XY" through (0, 45, 5) normal (0, 0, 1) x (1, 0, 0)
ref_plane "a7_to_bolt_YZ" through (0, 45, 5) normal (1, 0, 0) x (0, 1, 0)
ref_plane "a7_to_bolt_ZX" through (0, 45, 5) normal (0, 1, 0) x (0, 0, 1)
ref_plane "a8_to_bolt_XY" through (0, 5, 45) normal (0, 1, 0) x (1, 0, 0)
ref_plane "a8_to_bolt_YZ" through (0, 5, 45) normal (1, 0, 0) x (0, 0, -1)
ref_plane "a8_to_bolt_ZX" through (0, 5, 45) normal (0, 0, -1) x (0, 1, 0)
ref_plane "a9_to_bolt_XY" through (-15, 15, 5) normal (0, 0, 1) x (1, 0, 0)
ref_plane "a9_to_bolt_YZ" through (-15, 15, 5) normal (1, 0, 0) x (0, 1, 0)
ref_plane "a9_to_bolt_ZX" through (-15, 15, 5) normal (0, 1, 0) x (0, 0, 1)
ref_plane "bracket_to_dummy_XY" through (0, 0, 0) normal (0, 1, 0) x (1, 0, 0)
ref_plane "bracket_to_dummy_YZ" through (0, 0, 0) normal (1, 0, 0) x (0, 0, -1)
ref_plane "bracket_to_dummy_ZX" through (0, 0, 0) normal (0, 0, -1) x (0, 1, 0)
ref_plane "hole_x1_bolt_XY" through (-15, 45, 5) normal (0, 0, 1) x (1, 0, 0)
ref_plane "hole_x1_bolt_YZ" through (-15, 45, 5) normal (1, 0, 0) x (0, 1, 0)
ref_plane "hole_x1_bolt_ZX" through (-15, 45, 5) normal (0, 1, 0) x (0, 0, 1)
ref_plane "holex2_to_bolt_XY" through (15, 45, 5) normal (0, 0, 1) x (1, 0, 0)
ref_plane "holex2_to_bolt_YZ" through (15, 45, 5) normal (1, 0, 0) x (0, 1, 0)
ref_plane "holex2_to_bolt_ZX" through (15, 45, 5) normal (0, 1, 0) x (0, 0, 1)
ref_plane "holex3_to_bolt_XY" through (15, 5, 45) normal (0, 1, 0) x (1, 0, 0)
ref_plane "holex3_to_bolt_YZ" through (15, 5, 45) normal (1, 0, 0) x (0, 0, -1)
ref_plane "holex3_to_bolt_ZX" through (15, 5, 45) normal (0, 0, -1) x (0, 1, 0)
ref_plane "holex4_to_bolt_XY" through (15, 5, 15) normal (0, 1, 0) x (1, 0, 0)
ref_plane "holex4_to_bolt_YZ" through (15, 5, 15) normal (1, 0, 0) x (0, 0, -1)
ref_plane "holex4_to_bolt_ZX" through (15, 5, 15) normal (0, 0, -1) x (0, 1, 0)
ref_plane "holex5_to_bolt_XY" through (-15, 5, 45) normal (0, 1, 0) x (1, 0, 0)
ref_plane "holex5_to_bolt_YZ" through (-15, 5, 45) normal (1, 0, 0) x (0, 0, -1)
ref_plane "holex5_to_bolt_ZX" through (-15, 5, 45) normal (0, 0, -1) x (0, 1, 0)
ref_plane "holex6_to_bolt_XY" through (15, 20, 5) normal (0, 0, 1) x (1, 0, 0)
ref_plane "holex6_to_bolt_YZ" through (15, 20, 5) normal (1, 0, 0) x (0, 1, 0)
ref_plane "holex6_to_bolt_ZX" through (15, 20, 5) normal (0, 1, 0) x (0, 0, 1)
properties part number "HBLFSDD6_"
